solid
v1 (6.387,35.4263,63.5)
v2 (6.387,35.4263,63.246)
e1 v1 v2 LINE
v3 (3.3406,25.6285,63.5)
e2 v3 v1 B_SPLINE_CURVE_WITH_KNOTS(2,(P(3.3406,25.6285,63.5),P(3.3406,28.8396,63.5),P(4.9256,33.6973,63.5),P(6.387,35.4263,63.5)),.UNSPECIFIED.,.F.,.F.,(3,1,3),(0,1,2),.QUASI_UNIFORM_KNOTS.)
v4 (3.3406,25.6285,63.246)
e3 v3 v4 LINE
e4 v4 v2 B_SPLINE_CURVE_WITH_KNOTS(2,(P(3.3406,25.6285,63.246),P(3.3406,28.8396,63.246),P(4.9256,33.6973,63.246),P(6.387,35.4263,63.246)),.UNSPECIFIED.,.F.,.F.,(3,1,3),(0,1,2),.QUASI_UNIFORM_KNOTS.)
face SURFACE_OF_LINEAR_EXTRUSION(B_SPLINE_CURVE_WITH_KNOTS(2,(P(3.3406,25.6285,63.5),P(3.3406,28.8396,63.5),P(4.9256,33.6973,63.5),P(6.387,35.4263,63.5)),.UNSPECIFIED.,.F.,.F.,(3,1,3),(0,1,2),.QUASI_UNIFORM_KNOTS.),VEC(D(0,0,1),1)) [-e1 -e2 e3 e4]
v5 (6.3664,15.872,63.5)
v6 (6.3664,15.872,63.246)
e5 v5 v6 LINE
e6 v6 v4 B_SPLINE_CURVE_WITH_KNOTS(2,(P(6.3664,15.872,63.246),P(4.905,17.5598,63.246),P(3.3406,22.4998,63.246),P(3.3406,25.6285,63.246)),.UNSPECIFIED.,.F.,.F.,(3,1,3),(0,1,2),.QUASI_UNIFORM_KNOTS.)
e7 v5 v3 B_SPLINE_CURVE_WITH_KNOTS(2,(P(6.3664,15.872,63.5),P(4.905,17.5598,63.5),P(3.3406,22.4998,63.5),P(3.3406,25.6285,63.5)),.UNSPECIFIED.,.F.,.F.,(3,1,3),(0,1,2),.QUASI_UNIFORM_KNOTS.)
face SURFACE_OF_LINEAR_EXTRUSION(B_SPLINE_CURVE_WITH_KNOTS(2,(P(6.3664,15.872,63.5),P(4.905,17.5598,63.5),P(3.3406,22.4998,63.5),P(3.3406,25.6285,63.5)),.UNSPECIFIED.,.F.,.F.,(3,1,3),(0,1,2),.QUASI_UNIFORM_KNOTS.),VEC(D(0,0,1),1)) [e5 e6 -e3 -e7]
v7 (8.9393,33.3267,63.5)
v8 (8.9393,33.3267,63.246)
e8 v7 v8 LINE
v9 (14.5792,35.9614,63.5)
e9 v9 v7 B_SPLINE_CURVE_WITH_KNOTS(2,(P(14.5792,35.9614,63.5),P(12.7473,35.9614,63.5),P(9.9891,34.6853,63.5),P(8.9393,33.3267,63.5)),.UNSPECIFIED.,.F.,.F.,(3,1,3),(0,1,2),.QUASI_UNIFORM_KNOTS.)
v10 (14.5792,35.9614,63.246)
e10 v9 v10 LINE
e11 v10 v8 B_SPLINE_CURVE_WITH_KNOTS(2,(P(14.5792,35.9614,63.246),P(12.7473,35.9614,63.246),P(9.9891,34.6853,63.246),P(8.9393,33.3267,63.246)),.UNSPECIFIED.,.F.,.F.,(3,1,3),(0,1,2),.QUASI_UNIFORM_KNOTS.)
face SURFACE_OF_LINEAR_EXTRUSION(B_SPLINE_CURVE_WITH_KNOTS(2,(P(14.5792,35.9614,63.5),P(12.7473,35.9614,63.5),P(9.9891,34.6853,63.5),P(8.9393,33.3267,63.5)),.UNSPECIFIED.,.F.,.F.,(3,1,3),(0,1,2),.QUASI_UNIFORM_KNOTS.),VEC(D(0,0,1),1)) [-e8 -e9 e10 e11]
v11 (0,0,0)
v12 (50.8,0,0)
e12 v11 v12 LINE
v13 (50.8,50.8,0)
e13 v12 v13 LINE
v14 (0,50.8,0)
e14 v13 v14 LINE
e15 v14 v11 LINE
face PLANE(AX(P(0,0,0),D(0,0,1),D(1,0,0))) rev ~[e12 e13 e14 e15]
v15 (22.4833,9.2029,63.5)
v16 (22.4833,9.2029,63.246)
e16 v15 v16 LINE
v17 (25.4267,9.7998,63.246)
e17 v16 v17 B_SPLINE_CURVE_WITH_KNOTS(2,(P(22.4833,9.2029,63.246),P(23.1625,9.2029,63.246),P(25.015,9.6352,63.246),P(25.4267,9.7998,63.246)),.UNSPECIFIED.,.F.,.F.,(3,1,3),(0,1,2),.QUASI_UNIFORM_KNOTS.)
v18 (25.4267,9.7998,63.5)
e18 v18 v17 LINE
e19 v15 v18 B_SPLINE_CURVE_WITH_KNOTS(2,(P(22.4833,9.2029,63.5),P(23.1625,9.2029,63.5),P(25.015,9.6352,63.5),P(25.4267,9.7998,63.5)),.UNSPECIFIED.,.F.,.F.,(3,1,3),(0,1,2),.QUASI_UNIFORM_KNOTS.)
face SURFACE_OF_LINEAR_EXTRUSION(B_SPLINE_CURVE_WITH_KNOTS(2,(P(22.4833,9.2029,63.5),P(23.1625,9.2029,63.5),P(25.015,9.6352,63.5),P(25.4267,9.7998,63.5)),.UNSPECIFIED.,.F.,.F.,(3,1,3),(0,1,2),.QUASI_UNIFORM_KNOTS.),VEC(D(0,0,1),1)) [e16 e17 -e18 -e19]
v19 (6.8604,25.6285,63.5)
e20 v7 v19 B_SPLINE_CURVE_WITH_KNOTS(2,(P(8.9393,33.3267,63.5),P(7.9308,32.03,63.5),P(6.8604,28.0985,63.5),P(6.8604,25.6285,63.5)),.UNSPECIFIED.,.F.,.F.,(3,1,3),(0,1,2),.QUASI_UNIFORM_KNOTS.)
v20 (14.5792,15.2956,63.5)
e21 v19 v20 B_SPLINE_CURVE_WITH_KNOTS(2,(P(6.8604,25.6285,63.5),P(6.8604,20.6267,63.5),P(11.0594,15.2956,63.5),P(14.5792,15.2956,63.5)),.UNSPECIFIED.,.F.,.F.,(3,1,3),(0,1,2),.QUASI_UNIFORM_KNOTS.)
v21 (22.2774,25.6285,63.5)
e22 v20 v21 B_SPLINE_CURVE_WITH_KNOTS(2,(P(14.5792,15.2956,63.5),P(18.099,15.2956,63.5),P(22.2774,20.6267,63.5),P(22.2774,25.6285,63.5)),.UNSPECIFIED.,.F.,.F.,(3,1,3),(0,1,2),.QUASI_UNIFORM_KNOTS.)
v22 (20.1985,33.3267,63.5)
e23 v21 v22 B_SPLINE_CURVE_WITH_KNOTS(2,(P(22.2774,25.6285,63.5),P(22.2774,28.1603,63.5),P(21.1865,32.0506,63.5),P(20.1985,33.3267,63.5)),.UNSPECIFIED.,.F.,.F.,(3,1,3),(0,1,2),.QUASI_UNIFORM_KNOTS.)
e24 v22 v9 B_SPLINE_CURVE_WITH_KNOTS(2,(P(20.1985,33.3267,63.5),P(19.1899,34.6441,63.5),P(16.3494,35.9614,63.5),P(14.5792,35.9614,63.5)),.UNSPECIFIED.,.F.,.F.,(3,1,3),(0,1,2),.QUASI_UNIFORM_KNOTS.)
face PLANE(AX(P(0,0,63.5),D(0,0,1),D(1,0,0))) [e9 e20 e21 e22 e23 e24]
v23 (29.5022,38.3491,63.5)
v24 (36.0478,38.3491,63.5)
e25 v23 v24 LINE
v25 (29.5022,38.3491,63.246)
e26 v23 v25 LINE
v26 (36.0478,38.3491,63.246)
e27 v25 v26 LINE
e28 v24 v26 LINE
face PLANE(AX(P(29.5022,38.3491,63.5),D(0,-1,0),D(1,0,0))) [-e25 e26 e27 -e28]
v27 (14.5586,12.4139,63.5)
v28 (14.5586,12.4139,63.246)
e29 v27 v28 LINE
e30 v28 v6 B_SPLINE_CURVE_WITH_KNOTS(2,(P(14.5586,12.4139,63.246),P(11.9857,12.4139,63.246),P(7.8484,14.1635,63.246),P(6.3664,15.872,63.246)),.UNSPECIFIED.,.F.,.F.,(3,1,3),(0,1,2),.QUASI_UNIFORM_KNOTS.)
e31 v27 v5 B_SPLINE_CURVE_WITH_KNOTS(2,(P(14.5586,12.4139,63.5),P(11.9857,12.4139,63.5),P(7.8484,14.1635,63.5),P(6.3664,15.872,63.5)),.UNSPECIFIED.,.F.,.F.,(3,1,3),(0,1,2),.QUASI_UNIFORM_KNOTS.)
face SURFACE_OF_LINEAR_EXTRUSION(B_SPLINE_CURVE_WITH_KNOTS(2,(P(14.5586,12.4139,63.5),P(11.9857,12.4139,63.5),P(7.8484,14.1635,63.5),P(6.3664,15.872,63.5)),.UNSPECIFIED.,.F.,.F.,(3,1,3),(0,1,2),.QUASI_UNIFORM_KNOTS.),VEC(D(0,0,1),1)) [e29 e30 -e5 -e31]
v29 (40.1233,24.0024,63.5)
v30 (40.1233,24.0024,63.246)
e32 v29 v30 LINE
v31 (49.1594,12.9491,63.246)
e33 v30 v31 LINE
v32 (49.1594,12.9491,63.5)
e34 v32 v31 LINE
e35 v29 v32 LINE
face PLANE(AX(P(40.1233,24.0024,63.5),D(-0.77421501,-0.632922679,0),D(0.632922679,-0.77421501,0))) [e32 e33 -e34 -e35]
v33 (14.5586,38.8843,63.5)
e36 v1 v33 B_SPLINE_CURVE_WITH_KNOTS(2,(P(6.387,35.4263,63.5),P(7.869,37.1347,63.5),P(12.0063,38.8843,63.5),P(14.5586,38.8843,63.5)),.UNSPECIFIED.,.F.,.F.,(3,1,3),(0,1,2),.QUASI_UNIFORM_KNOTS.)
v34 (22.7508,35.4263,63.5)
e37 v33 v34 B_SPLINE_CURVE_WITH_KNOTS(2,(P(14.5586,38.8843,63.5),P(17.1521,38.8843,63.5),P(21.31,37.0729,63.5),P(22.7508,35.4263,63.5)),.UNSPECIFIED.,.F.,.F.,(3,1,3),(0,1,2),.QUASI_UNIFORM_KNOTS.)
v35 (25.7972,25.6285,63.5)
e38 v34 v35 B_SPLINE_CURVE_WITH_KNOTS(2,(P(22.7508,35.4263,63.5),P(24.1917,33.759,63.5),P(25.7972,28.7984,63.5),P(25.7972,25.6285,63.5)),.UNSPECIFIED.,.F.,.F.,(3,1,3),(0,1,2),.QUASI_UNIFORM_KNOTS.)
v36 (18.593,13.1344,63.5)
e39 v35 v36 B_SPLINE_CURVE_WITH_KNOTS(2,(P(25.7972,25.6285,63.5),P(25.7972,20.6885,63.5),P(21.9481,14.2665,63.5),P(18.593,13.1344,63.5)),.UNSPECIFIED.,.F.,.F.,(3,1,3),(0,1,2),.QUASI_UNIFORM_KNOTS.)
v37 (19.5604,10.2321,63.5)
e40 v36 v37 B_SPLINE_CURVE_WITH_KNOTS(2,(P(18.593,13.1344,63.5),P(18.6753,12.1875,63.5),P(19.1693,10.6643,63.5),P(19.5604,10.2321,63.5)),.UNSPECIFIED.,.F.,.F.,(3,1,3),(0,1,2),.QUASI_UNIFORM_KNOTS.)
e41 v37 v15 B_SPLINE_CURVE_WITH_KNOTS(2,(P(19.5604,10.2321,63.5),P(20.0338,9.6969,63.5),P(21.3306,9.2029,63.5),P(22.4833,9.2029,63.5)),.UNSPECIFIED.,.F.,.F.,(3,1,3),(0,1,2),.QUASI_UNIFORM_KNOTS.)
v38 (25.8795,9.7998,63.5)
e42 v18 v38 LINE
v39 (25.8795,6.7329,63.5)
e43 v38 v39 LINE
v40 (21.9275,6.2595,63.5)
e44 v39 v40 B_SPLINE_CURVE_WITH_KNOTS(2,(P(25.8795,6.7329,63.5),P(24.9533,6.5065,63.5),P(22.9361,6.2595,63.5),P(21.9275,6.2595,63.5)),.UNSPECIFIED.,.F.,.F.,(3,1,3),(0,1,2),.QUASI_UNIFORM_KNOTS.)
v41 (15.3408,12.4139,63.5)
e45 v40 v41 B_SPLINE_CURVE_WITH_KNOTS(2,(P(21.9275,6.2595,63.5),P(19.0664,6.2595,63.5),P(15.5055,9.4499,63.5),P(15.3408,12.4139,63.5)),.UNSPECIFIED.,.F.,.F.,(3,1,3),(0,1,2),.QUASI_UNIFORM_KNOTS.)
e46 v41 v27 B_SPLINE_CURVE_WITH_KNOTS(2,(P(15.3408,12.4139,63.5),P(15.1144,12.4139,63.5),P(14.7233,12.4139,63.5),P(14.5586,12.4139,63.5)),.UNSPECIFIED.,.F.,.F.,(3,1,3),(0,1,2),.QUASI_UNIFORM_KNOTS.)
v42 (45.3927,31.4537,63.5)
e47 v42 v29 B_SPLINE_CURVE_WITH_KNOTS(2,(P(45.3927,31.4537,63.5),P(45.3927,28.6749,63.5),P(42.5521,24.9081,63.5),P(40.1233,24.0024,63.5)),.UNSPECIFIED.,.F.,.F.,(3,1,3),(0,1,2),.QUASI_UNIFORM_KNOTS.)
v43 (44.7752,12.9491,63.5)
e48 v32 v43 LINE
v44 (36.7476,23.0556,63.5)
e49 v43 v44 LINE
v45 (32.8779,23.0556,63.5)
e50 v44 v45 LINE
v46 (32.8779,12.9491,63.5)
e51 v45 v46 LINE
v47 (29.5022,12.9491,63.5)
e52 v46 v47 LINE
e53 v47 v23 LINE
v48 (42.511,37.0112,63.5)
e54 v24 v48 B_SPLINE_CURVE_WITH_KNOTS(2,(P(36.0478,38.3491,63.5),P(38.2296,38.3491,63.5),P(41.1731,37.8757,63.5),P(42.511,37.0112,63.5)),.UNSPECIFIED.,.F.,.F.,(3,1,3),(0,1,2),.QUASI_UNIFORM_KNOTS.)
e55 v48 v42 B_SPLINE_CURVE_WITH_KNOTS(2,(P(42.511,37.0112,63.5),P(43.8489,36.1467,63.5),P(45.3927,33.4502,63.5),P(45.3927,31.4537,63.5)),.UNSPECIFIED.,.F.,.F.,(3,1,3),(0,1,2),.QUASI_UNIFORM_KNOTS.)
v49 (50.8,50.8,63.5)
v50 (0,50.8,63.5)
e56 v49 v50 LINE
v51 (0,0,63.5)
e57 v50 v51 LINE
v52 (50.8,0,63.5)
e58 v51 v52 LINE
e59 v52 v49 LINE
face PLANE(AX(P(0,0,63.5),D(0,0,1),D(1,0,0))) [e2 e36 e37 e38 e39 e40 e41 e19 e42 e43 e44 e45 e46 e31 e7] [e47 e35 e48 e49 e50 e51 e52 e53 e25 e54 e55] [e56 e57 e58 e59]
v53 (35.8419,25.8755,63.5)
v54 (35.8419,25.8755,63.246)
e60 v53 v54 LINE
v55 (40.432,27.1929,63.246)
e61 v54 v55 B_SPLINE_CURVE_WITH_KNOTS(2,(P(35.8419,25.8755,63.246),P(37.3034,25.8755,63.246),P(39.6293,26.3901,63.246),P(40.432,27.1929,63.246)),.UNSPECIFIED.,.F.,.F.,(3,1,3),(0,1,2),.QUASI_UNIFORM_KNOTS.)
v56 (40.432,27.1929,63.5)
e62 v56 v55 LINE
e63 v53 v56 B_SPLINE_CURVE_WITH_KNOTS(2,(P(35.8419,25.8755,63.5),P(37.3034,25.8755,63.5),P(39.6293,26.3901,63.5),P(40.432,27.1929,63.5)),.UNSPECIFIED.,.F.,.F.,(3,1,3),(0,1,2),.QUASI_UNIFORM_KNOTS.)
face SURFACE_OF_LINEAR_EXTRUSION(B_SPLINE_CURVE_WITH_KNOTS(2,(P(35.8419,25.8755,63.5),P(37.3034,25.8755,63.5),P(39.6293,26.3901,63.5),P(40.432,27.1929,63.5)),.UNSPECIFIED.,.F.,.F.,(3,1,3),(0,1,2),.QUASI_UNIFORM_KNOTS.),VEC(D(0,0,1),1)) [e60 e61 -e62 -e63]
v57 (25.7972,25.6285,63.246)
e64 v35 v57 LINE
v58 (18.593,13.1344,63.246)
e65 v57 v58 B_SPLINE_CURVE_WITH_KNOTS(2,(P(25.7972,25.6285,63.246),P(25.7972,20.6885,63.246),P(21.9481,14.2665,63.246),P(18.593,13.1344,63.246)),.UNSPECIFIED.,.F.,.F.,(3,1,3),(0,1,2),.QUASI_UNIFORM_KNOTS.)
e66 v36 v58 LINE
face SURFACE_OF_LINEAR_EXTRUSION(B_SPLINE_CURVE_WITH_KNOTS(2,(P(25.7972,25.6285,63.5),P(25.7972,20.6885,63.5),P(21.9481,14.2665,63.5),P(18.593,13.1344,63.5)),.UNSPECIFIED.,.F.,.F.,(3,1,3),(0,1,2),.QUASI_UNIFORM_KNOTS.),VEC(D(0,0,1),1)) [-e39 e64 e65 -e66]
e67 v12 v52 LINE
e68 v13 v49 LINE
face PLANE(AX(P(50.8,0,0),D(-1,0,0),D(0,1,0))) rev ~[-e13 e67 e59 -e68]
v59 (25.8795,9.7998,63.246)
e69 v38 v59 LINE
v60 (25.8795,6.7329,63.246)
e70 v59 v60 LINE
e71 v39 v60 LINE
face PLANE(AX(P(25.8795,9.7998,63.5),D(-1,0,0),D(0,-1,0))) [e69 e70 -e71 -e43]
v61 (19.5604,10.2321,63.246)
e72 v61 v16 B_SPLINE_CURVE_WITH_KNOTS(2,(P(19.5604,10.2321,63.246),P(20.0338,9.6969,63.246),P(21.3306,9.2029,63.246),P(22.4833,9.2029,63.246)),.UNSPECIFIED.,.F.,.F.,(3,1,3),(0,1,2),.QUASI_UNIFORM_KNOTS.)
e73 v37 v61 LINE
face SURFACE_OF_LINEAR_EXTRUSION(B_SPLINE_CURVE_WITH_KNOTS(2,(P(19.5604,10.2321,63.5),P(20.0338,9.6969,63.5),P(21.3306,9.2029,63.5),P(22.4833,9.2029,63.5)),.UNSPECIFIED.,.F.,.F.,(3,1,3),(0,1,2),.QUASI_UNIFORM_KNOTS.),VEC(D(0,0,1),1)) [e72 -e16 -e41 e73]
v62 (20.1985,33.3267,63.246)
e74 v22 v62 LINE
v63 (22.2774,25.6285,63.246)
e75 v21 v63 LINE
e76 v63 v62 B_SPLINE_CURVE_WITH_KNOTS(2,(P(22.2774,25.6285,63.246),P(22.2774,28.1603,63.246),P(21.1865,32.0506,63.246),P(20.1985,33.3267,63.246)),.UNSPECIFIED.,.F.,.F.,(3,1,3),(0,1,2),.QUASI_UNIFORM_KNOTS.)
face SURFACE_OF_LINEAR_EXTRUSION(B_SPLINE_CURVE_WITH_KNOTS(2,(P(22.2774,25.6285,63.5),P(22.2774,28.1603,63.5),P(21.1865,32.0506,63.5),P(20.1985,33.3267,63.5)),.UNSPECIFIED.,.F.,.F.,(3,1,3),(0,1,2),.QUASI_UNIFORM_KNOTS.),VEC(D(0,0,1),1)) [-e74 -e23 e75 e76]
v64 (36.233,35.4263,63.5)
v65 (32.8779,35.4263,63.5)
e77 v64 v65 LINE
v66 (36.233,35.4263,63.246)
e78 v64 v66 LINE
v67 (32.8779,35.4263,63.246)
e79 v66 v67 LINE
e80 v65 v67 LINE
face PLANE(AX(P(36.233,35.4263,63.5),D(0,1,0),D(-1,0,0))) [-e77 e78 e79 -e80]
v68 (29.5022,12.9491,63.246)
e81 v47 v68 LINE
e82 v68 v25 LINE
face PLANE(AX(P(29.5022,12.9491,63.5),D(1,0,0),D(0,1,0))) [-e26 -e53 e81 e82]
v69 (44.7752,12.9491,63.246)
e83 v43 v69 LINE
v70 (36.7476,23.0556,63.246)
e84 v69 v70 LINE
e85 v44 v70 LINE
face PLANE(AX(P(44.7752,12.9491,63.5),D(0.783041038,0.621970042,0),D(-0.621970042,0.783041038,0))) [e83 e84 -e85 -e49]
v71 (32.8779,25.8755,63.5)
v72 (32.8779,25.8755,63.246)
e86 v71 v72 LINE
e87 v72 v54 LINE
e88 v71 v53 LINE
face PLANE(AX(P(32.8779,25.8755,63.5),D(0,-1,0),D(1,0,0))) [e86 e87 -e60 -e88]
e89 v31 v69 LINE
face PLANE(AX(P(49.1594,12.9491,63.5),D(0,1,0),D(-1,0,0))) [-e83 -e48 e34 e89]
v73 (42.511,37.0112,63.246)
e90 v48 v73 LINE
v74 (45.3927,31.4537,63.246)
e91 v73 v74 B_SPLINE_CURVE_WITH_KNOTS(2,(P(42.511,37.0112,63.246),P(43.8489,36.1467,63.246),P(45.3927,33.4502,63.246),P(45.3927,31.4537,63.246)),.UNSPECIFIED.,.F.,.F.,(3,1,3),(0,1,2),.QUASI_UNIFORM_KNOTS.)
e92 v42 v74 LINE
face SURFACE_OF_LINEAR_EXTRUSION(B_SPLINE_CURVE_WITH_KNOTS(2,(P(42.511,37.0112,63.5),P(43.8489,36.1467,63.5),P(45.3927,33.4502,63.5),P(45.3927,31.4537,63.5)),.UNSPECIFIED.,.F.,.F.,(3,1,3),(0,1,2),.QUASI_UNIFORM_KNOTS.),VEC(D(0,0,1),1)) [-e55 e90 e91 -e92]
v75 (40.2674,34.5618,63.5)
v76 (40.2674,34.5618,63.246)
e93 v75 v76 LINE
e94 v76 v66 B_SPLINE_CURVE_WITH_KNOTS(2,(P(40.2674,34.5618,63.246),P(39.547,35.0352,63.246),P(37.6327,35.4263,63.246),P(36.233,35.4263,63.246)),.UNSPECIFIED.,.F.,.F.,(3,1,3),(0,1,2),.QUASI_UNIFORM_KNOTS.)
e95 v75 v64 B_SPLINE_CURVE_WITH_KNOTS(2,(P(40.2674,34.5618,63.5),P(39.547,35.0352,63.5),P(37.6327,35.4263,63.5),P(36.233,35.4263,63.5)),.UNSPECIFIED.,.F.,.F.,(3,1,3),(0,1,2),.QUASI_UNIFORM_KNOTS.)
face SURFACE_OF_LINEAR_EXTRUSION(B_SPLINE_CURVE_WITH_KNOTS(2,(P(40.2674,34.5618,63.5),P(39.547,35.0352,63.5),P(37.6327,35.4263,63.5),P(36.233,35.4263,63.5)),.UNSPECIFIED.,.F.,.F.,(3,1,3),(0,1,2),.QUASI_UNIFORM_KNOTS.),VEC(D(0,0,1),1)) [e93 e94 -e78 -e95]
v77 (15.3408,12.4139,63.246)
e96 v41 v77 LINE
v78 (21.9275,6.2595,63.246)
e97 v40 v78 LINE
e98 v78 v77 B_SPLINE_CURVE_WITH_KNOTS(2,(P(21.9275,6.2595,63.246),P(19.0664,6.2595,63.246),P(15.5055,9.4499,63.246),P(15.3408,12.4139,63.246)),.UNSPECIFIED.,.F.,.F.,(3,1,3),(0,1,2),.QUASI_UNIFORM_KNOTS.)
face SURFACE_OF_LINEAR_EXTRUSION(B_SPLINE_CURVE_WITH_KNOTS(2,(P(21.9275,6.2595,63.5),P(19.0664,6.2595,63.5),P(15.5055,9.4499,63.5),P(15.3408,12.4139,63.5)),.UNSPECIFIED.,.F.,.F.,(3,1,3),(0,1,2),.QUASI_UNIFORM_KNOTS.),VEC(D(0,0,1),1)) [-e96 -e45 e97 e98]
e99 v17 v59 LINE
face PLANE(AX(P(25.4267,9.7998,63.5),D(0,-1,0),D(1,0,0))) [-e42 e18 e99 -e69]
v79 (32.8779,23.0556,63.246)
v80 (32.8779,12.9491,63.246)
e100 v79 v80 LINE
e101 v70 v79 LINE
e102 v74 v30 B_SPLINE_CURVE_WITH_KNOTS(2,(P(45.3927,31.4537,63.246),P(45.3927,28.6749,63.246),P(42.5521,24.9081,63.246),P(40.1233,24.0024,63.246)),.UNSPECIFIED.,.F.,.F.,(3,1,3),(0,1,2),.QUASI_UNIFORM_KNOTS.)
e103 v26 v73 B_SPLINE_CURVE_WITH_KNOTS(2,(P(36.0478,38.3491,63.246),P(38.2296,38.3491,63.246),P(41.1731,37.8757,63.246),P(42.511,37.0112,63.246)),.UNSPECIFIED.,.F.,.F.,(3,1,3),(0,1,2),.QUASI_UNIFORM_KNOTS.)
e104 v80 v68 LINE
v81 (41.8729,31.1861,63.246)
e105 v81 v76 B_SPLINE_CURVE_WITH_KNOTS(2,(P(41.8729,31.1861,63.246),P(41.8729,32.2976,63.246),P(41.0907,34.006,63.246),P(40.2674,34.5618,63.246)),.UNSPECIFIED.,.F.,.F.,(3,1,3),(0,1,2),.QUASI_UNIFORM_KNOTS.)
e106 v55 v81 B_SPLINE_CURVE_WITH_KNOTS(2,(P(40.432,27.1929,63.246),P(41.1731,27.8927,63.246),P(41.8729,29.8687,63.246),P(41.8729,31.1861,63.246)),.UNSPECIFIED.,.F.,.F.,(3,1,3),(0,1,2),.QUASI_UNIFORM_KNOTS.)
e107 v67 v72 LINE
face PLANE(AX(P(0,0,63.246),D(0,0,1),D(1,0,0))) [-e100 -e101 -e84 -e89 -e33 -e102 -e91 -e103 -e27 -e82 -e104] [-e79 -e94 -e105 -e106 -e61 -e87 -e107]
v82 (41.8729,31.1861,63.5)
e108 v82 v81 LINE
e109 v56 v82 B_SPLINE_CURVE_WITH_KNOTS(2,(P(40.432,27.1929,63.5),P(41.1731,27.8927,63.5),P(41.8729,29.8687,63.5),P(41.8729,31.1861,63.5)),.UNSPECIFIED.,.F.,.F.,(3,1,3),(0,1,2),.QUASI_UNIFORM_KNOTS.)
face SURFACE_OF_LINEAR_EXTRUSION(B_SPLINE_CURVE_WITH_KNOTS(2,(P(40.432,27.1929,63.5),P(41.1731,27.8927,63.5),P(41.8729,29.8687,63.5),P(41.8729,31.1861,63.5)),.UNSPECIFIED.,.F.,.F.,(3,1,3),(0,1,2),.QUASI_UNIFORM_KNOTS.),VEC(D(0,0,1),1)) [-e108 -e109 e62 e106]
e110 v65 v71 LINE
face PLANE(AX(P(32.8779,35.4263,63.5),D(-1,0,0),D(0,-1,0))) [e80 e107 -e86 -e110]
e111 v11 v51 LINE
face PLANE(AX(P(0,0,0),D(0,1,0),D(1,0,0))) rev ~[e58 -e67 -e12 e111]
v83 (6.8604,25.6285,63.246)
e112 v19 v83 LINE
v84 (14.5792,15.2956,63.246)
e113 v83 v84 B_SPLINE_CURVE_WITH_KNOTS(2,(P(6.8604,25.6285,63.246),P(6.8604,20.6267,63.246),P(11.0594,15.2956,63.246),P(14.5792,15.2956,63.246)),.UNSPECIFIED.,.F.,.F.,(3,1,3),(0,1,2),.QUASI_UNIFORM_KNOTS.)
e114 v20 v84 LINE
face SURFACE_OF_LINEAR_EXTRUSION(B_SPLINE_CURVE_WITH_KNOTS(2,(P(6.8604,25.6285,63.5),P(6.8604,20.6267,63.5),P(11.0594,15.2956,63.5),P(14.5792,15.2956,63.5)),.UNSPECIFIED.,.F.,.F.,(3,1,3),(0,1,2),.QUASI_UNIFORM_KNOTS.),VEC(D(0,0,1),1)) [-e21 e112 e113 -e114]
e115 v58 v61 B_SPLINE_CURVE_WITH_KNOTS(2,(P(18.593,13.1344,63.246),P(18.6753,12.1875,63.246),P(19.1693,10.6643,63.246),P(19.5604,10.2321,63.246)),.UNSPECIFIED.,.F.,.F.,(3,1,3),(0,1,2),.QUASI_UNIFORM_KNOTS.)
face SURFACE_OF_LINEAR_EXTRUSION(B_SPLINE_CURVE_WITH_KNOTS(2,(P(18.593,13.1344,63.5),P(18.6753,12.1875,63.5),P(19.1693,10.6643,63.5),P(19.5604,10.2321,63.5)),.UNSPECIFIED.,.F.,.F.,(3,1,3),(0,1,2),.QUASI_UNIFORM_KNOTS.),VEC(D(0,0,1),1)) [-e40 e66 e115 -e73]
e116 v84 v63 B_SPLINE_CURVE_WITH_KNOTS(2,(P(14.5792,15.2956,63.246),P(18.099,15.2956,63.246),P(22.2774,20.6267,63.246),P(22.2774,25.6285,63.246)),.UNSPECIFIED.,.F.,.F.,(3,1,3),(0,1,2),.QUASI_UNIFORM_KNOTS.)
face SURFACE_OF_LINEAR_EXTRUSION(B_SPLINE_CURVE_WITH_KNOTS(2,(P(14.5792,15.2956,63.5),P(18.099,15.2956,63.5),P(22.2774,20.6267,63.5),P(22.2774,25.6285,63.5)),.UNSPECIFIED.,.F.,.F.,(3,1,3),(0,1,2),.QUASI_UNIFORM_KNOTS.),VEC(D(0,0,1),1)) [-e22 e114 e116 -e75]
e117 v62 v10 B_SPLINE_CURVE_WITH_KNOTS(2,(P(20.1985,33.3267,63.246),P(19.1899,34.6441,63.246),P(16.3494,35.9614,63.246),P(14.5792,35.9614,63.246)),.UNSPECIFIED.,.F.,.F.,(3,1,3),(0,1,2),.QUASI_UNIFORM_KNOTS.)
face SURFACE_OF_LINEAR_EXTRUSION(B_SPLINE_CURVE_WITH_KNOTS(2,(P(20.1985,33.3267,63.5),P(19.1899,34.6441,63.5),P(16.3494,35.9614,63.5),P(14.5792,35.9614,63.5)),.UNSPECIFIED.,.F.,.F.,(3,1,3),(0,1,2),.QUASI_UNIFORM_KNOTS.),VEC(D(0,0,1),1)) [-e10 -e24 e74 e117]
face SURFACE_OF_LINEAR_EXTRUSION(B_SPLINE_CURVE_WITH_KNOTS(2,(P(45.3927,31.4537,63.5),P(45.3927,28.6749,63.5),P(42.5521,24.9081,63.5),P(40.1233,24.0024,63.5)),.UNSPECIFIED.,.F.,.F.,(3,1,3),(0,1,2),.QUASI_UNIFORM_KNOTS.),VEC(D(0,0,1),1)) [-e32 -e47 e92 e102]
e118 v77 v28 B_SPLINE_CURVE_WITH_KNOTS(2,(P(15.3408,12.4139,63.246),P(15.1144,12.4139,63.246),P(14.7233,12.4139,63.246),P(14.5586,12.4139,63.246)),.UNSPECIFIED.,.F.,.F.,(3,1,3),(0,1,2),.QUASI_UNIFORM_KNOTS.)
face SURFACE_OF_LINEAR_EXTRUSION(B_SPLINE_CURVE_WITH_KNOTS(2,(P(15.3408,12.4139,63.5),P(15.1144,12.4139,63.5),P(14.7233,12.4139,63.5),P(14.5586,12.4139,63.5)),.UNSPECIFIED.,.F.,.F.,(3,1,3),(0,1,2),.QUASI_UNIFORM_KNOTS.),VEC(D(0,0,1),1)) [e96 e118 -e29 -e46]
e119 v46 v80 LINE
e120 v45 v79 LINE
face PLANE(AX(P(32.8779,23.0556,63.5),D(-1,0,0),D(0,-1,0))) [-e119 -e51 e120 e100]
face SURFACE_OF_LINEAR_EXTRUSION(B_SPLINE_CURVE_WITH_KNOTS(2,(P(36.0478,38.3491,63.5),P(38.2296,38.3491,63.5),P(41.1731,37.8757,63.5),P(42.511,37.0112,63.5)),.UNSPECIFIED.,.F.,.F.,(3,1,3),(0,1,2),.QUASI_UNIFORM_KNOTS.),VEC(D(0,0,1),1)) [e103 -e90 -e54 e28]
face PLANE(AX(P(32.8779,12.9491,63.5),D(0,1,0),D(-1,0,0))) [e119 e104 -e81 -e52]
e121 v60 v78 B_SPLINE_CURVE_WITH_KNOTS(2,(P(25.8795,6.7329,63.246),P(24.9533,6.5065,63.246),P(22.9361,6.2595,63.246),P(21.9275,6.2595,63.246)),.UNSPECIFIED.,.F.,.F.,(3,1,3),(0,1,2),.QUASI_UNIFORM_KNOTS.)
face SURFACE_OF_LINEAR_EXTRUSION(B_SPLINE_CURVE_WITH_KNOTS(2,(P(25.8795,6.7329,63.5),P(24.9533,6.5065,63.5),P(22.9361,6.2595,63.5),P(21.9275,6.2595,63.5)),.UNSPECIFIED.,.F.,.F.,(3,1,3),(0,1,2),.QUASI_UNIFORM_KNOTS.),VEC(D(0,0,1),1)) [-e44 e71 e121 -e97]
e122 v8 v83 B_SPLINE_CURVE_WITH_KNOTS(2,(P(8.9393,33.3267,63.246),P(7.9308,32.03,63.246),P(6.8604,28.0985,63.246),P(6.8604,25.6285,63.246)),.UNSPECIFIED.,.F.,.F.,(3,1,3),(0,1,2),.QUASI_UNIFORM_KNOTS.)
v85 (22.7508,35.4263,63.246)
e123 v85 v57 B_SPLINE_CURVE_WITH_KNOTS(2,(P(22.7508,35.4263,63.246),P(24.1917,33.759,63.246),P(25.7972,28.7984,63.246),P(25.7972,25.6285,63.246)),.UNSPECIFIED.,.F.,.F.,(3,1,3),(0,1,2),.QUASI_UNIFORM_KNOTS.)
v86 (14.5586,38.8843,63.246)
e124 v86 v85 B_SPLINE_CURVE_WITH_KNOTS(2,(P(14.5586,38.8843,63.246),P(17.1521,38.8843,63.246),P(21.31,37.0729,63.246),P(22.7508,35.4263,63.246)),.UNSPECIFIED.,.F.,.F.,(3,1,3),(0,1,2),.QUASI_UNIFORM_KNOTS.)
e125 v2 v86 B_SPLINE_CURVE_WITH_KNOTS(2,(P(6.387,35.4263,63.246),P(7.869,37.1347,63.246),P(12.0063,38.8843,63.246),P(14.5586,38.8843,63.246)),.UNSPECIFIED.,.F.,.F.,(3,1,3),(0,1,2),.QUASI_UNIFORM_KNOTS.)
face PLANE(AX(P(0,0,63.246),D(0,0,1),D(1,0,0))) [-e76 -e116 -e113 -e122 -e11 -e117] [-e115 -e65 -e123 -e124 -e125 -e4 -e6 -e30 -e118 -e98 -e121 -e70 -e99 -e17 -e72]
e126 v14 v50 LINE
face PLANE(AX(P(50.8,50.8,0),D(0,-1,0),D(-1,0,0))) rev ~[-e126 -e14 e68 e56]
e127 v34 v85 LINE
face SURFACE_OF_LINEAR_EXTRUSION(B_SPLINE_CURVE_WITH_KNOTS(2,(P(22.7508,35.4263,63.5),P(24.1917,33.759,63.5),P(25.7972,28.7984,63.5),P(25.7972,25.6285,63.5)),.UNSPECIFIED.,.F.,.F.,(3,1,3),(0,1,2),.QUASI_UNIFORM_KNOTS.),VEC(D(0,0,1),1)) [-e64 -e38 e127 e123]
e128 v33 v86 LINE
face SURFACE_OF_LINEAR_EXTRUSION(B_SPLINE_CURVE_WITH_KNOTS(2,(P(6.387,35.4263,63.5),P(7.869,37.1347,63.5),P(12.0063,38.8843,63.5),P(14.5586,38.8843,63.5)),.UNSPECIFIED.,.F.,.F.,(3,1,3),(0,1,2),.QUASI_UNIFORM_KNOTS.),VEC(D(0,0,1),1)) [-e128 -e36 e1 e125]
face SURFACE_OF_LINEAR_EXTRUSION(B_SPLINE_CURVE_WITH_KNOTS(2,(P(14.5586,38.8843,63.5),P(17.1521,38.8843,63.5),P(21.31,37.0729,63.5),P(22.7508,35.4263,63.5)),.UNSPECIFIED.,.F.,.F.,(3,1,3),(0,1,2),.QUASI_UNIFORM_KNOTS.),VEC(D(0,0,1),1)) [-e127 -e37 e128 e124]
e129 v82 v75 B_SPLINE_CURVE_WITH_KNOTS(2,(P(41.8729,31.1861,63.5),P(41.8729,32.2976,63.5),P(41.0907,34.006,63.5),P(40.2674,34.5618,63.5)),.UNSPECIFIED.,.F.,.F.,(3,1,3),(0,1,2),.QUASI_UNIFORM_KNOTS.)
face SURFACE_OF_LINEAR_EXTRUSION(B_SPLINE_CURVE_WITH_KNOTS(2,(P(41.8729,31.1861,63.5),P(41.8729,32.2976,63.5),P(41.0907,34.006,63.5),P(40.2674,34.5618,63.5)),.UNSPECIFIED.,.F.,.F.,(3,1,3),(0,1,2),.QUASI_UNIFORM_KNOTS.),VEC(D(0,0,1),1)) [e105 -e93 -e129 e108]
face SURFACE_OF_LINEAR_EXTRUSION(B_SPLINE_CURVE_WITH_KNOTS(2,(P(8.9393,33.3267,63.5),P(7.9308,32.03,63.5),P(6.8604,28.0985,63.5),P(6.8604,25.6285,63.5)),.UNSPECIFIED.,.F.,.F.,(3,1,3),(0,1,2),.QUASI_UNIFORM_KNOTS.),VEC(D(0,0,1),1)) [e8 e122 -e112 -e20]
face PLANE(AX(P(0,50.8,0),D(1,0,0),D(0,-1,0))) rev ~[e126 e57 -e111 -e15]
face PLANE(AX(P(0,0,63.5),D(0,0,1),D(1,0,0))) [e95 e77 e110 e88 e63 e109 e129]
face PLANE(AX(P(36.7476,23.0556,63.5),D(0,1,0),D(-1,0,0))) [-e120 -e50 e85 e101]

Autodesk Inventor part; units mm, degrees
ref_plane "YZ Plane" through (0, 0, 0) normal (1, 0, 0) x (0, 1, 0)
ref_plane "XZ Plane" through (0, 0, 0) normal (0, 1, 0) x (-1, 0, 0)
ref_plane "XY Plane" through (0, 0, 0) normal (0, 0, 1) x (1, 0, 0)
sketch "Sketch1" plane through (0, 0, 0) normal (0, 0, 1) x (1, 0, 0)
  line L0 (0, 0) -> (50.8, 0)
  line L1 (50.8, 0) -> (50.8, 50.8)
  line L2 (50.8, 50.8) -> (0, 50.8)
  line L3 (0, 50.8) -> (0, 0)
  dimension "d0" = 50.8
  dimension "d1" = 50.8
extrude "Extrusion1" add sketch "Sketch1" along normal blind 63.5
sketch "Sketch2" plane through (0, 0, 63.5) normal (0, 0, 1) x (1, 0, 0)
  line L0 (2.2085, 38.8843) -> (25.4061, 38.8843) construction
  line L1 (25.4061, 38.8843) -> (25.4061, 22.5719) construction
  line L2 (25.4061, 22.5719) -> (2.2085, 22.5719) construction
  line L3 (2.2085, 22.5719) -> (2.2085, 38.8843) construction
  spline S0 degree 2 poles (25.8795, 6.7329) (24.9533, 6.5065) (22.9361, 6.2595) (21.9275, 6.2595) knots 0 0 0 1 2 2 2
  spline S1 degree 2 poles (21.9275, 6.2595) (19.0664, 6.2595) (15.5055, 9.4499) (15.3408, 12.4139) knots 0 0 0 1 2 2 2
  spline S2 degree 2 poles (15.3408, 12.4139) (15.1144, 12.4139) (14.7233, 12.4139) (14.5586, 12.4139) knots 0 0 0 1 2 2 2
  spline S3 degree 2 poles (14.5586, 12.4139) (11.9857, 12.4139) (7.8484, 14.1635) (6.3664, 15.872) knots 0 0 0 1 2 2 2
  spline S4 degree 2 poles (6.3664, 15.872) (4.905, 17.5598) (3.3406, 22.4998) (3.3406, 25.6285) knots 0 0 0 1 2 2 2
  spline S5 degree 2 poles (3.3406, 25.6285) (3.3406, 28.8396) (4.9256, 33.6973) (6.387, 35.4263) knots 0 0 0 1 2 2 2
  spline S6 degree 2 poles (6.387, 35.4263) (7.869, 37.1347) (12.0063, 38.8843) (14.5586, 38.8843) knots 0 0 0 1 2 2 2
  spline S7 degree 2 poles (14.5586, 38.8843) (17.1521, 38.8843) (21.31, 37.0729) (22.7508, 35.4263) knots 0 0 0 1 2 2 2
  spline S8 degree 2 poles (22.7508, 35.4263) (24.1917, 33.759) (25.7972, 28.7984) (25.7972, 25.6285) knots 0 0 0 1 2 2 2
  spline S9 degree 2 poles (25.7972, 25.6285) (25.7972, 20.6885) (21.9481, 14.2665) (18.593, 13.1344) knots 0 0 0 1 2 2 2
  spline S10 degree 2 poles (18.593, 13.1344) (18.6753, 12.1875) (19.1693, 10.6643) (19.5604, 10.2321) knots 0 0 0 1 2 2 2
  spline S11 degree 2 poles (19.5604, 10.2321) (20.0338, 9.6969) (21.3306, 9.2029) (22.4833, 9.2029) knots 0 0 0 1 2 2 2
  spline S12 degree 2 poles (22.4833, 9.2029) (23.1625, 9.2029) (25.015, 9.6352) (25.4267, 9.7998) knots 0 0 0 1 2 2 2
  line L4 (25.4267, 9.7998) -> (25.8795, 9.7998)
  line L5 (25.8795, 9.7998) -> (25.8795, 6.7329)
  spline S13 degree 2 poles (22.2774, 25.6285) (22.2774, 28.1603) (21.1865, 32.0506) (20.1985, 33.3267) knots 0 0 0 1 2 2 2
  spline S14 degree 2 poles (20.1985, 33.3267) (19.1899, 34.6441) (16.3494, 35.9614) (14.5792, 35.9614) knots 0 0 0 1 2 2 2
  spline S15 degree 2 poles (14.5792, 35.9614) (12.7473, 35.9614) (9.9891, 34.6853) (8.9393, 33.3267) knots 0 0 0 1 2 2 2
  spline S16 degree 2 poles (8.9393, 33.3267) (7.9308, 32.03) (6.8604, 28.0985) (6.8604, 25.6285) knots 0 0 0 1 2 2 2
  spline S17 degree 2 poles (6.8604, 25.6285) (6.8604, 20.6267) (11.0594, 15.2956) (14.5792, 15.2956) knots 0 0 0 1 2 2 2
  spline S18 degree 2 poles (14.5792, 15.2956) (18.099, 15.2956) (22.2774, 20.6267) (22.2774, 25.6285) knots 0 0 0 1 2 2 2
  line L6 (49.1594, 12.9491) -> (44.7752, 12.9491)
  line L7 (44.7752, 12.9491) -> (36.7476, 23.0556)
  line L8 (36.7476, 23.0556) -> (32.8779, 23.0556)
  line L9 (32.8779, 23.0556) -> (32.8779, 12.9491)
  line L10 (32.8779, 12.9491) -> (29.5022, 12.9491)
  line L11 (29.5022, 12.9491) -> (29.5022, 38.3491)
  line L12 (29.5022, 38.3491) -> (36.0478, 38.3491)
  spline S19 degree 2 poles (36.0478, 38.3491) (38.2296, 38.3491) (41.1731, 37.8757) (42.511, 37.0112) knots 0 0 0 1 2 2 2
  spline S20 degree 2 poles (42.511, 37.0112) (43.8489, 36.1467) (45.3927, 33.4502) (45.3927, 31.4537) knots 0 0 0 1 2 2 2
  spline S21 degree 2 poles (45.3927, 31.4537) (45.3927, 28.6749) (42.5521, 24.9081) (40.1233, 24.0024) knots 0 0 0 1 2 2 2
  line L13 (40.1233, 24.0024) -> (49.1594, 12.9491)
  spline S22 degree 2 poles (41.8729, 31.1861) (41.8729, 32.2976) (41.0907, 34.006) (40.2674, 34.5618) knots 0 0 0 1 2 2 2
  spline S23 degree 2 poles (40.2674, 34.5618) (39.547, 35.0352) (37.6327, 35.4263) (36.233, 35.4263) knots 0 0 0 1 2 2 2
  line L14 (36.233, 35.4263) -> (32.8779, 35.4263)
  line L15 (32.8779, 35.4263) -> (32.8779, 25.8755)
  line L16 (32.8779, 25.8755) -> (35.8419, 25.8755)
  spline S24 degree 2 poles (35.8419, 25.8755) (37.3034, 25.8755) (39.6293, 26.3901) (40.432, 27.1929) knots 0 0 0 1 2 2 2
  spline S25 degree 2 poles (40.432, 27.1929) (41.1731, 27.8927) (41.8729, 29.8687) (41.8729, 31.1861) knots 0 0 0 1 2 2 2
  point P0 (0, 0)
extrude "Extrusion2" cut sketch "Sketch2" against normal blind 0.254
equation "\"d1\" = d0"
properties part number "Container 2 2 2 and half color"
